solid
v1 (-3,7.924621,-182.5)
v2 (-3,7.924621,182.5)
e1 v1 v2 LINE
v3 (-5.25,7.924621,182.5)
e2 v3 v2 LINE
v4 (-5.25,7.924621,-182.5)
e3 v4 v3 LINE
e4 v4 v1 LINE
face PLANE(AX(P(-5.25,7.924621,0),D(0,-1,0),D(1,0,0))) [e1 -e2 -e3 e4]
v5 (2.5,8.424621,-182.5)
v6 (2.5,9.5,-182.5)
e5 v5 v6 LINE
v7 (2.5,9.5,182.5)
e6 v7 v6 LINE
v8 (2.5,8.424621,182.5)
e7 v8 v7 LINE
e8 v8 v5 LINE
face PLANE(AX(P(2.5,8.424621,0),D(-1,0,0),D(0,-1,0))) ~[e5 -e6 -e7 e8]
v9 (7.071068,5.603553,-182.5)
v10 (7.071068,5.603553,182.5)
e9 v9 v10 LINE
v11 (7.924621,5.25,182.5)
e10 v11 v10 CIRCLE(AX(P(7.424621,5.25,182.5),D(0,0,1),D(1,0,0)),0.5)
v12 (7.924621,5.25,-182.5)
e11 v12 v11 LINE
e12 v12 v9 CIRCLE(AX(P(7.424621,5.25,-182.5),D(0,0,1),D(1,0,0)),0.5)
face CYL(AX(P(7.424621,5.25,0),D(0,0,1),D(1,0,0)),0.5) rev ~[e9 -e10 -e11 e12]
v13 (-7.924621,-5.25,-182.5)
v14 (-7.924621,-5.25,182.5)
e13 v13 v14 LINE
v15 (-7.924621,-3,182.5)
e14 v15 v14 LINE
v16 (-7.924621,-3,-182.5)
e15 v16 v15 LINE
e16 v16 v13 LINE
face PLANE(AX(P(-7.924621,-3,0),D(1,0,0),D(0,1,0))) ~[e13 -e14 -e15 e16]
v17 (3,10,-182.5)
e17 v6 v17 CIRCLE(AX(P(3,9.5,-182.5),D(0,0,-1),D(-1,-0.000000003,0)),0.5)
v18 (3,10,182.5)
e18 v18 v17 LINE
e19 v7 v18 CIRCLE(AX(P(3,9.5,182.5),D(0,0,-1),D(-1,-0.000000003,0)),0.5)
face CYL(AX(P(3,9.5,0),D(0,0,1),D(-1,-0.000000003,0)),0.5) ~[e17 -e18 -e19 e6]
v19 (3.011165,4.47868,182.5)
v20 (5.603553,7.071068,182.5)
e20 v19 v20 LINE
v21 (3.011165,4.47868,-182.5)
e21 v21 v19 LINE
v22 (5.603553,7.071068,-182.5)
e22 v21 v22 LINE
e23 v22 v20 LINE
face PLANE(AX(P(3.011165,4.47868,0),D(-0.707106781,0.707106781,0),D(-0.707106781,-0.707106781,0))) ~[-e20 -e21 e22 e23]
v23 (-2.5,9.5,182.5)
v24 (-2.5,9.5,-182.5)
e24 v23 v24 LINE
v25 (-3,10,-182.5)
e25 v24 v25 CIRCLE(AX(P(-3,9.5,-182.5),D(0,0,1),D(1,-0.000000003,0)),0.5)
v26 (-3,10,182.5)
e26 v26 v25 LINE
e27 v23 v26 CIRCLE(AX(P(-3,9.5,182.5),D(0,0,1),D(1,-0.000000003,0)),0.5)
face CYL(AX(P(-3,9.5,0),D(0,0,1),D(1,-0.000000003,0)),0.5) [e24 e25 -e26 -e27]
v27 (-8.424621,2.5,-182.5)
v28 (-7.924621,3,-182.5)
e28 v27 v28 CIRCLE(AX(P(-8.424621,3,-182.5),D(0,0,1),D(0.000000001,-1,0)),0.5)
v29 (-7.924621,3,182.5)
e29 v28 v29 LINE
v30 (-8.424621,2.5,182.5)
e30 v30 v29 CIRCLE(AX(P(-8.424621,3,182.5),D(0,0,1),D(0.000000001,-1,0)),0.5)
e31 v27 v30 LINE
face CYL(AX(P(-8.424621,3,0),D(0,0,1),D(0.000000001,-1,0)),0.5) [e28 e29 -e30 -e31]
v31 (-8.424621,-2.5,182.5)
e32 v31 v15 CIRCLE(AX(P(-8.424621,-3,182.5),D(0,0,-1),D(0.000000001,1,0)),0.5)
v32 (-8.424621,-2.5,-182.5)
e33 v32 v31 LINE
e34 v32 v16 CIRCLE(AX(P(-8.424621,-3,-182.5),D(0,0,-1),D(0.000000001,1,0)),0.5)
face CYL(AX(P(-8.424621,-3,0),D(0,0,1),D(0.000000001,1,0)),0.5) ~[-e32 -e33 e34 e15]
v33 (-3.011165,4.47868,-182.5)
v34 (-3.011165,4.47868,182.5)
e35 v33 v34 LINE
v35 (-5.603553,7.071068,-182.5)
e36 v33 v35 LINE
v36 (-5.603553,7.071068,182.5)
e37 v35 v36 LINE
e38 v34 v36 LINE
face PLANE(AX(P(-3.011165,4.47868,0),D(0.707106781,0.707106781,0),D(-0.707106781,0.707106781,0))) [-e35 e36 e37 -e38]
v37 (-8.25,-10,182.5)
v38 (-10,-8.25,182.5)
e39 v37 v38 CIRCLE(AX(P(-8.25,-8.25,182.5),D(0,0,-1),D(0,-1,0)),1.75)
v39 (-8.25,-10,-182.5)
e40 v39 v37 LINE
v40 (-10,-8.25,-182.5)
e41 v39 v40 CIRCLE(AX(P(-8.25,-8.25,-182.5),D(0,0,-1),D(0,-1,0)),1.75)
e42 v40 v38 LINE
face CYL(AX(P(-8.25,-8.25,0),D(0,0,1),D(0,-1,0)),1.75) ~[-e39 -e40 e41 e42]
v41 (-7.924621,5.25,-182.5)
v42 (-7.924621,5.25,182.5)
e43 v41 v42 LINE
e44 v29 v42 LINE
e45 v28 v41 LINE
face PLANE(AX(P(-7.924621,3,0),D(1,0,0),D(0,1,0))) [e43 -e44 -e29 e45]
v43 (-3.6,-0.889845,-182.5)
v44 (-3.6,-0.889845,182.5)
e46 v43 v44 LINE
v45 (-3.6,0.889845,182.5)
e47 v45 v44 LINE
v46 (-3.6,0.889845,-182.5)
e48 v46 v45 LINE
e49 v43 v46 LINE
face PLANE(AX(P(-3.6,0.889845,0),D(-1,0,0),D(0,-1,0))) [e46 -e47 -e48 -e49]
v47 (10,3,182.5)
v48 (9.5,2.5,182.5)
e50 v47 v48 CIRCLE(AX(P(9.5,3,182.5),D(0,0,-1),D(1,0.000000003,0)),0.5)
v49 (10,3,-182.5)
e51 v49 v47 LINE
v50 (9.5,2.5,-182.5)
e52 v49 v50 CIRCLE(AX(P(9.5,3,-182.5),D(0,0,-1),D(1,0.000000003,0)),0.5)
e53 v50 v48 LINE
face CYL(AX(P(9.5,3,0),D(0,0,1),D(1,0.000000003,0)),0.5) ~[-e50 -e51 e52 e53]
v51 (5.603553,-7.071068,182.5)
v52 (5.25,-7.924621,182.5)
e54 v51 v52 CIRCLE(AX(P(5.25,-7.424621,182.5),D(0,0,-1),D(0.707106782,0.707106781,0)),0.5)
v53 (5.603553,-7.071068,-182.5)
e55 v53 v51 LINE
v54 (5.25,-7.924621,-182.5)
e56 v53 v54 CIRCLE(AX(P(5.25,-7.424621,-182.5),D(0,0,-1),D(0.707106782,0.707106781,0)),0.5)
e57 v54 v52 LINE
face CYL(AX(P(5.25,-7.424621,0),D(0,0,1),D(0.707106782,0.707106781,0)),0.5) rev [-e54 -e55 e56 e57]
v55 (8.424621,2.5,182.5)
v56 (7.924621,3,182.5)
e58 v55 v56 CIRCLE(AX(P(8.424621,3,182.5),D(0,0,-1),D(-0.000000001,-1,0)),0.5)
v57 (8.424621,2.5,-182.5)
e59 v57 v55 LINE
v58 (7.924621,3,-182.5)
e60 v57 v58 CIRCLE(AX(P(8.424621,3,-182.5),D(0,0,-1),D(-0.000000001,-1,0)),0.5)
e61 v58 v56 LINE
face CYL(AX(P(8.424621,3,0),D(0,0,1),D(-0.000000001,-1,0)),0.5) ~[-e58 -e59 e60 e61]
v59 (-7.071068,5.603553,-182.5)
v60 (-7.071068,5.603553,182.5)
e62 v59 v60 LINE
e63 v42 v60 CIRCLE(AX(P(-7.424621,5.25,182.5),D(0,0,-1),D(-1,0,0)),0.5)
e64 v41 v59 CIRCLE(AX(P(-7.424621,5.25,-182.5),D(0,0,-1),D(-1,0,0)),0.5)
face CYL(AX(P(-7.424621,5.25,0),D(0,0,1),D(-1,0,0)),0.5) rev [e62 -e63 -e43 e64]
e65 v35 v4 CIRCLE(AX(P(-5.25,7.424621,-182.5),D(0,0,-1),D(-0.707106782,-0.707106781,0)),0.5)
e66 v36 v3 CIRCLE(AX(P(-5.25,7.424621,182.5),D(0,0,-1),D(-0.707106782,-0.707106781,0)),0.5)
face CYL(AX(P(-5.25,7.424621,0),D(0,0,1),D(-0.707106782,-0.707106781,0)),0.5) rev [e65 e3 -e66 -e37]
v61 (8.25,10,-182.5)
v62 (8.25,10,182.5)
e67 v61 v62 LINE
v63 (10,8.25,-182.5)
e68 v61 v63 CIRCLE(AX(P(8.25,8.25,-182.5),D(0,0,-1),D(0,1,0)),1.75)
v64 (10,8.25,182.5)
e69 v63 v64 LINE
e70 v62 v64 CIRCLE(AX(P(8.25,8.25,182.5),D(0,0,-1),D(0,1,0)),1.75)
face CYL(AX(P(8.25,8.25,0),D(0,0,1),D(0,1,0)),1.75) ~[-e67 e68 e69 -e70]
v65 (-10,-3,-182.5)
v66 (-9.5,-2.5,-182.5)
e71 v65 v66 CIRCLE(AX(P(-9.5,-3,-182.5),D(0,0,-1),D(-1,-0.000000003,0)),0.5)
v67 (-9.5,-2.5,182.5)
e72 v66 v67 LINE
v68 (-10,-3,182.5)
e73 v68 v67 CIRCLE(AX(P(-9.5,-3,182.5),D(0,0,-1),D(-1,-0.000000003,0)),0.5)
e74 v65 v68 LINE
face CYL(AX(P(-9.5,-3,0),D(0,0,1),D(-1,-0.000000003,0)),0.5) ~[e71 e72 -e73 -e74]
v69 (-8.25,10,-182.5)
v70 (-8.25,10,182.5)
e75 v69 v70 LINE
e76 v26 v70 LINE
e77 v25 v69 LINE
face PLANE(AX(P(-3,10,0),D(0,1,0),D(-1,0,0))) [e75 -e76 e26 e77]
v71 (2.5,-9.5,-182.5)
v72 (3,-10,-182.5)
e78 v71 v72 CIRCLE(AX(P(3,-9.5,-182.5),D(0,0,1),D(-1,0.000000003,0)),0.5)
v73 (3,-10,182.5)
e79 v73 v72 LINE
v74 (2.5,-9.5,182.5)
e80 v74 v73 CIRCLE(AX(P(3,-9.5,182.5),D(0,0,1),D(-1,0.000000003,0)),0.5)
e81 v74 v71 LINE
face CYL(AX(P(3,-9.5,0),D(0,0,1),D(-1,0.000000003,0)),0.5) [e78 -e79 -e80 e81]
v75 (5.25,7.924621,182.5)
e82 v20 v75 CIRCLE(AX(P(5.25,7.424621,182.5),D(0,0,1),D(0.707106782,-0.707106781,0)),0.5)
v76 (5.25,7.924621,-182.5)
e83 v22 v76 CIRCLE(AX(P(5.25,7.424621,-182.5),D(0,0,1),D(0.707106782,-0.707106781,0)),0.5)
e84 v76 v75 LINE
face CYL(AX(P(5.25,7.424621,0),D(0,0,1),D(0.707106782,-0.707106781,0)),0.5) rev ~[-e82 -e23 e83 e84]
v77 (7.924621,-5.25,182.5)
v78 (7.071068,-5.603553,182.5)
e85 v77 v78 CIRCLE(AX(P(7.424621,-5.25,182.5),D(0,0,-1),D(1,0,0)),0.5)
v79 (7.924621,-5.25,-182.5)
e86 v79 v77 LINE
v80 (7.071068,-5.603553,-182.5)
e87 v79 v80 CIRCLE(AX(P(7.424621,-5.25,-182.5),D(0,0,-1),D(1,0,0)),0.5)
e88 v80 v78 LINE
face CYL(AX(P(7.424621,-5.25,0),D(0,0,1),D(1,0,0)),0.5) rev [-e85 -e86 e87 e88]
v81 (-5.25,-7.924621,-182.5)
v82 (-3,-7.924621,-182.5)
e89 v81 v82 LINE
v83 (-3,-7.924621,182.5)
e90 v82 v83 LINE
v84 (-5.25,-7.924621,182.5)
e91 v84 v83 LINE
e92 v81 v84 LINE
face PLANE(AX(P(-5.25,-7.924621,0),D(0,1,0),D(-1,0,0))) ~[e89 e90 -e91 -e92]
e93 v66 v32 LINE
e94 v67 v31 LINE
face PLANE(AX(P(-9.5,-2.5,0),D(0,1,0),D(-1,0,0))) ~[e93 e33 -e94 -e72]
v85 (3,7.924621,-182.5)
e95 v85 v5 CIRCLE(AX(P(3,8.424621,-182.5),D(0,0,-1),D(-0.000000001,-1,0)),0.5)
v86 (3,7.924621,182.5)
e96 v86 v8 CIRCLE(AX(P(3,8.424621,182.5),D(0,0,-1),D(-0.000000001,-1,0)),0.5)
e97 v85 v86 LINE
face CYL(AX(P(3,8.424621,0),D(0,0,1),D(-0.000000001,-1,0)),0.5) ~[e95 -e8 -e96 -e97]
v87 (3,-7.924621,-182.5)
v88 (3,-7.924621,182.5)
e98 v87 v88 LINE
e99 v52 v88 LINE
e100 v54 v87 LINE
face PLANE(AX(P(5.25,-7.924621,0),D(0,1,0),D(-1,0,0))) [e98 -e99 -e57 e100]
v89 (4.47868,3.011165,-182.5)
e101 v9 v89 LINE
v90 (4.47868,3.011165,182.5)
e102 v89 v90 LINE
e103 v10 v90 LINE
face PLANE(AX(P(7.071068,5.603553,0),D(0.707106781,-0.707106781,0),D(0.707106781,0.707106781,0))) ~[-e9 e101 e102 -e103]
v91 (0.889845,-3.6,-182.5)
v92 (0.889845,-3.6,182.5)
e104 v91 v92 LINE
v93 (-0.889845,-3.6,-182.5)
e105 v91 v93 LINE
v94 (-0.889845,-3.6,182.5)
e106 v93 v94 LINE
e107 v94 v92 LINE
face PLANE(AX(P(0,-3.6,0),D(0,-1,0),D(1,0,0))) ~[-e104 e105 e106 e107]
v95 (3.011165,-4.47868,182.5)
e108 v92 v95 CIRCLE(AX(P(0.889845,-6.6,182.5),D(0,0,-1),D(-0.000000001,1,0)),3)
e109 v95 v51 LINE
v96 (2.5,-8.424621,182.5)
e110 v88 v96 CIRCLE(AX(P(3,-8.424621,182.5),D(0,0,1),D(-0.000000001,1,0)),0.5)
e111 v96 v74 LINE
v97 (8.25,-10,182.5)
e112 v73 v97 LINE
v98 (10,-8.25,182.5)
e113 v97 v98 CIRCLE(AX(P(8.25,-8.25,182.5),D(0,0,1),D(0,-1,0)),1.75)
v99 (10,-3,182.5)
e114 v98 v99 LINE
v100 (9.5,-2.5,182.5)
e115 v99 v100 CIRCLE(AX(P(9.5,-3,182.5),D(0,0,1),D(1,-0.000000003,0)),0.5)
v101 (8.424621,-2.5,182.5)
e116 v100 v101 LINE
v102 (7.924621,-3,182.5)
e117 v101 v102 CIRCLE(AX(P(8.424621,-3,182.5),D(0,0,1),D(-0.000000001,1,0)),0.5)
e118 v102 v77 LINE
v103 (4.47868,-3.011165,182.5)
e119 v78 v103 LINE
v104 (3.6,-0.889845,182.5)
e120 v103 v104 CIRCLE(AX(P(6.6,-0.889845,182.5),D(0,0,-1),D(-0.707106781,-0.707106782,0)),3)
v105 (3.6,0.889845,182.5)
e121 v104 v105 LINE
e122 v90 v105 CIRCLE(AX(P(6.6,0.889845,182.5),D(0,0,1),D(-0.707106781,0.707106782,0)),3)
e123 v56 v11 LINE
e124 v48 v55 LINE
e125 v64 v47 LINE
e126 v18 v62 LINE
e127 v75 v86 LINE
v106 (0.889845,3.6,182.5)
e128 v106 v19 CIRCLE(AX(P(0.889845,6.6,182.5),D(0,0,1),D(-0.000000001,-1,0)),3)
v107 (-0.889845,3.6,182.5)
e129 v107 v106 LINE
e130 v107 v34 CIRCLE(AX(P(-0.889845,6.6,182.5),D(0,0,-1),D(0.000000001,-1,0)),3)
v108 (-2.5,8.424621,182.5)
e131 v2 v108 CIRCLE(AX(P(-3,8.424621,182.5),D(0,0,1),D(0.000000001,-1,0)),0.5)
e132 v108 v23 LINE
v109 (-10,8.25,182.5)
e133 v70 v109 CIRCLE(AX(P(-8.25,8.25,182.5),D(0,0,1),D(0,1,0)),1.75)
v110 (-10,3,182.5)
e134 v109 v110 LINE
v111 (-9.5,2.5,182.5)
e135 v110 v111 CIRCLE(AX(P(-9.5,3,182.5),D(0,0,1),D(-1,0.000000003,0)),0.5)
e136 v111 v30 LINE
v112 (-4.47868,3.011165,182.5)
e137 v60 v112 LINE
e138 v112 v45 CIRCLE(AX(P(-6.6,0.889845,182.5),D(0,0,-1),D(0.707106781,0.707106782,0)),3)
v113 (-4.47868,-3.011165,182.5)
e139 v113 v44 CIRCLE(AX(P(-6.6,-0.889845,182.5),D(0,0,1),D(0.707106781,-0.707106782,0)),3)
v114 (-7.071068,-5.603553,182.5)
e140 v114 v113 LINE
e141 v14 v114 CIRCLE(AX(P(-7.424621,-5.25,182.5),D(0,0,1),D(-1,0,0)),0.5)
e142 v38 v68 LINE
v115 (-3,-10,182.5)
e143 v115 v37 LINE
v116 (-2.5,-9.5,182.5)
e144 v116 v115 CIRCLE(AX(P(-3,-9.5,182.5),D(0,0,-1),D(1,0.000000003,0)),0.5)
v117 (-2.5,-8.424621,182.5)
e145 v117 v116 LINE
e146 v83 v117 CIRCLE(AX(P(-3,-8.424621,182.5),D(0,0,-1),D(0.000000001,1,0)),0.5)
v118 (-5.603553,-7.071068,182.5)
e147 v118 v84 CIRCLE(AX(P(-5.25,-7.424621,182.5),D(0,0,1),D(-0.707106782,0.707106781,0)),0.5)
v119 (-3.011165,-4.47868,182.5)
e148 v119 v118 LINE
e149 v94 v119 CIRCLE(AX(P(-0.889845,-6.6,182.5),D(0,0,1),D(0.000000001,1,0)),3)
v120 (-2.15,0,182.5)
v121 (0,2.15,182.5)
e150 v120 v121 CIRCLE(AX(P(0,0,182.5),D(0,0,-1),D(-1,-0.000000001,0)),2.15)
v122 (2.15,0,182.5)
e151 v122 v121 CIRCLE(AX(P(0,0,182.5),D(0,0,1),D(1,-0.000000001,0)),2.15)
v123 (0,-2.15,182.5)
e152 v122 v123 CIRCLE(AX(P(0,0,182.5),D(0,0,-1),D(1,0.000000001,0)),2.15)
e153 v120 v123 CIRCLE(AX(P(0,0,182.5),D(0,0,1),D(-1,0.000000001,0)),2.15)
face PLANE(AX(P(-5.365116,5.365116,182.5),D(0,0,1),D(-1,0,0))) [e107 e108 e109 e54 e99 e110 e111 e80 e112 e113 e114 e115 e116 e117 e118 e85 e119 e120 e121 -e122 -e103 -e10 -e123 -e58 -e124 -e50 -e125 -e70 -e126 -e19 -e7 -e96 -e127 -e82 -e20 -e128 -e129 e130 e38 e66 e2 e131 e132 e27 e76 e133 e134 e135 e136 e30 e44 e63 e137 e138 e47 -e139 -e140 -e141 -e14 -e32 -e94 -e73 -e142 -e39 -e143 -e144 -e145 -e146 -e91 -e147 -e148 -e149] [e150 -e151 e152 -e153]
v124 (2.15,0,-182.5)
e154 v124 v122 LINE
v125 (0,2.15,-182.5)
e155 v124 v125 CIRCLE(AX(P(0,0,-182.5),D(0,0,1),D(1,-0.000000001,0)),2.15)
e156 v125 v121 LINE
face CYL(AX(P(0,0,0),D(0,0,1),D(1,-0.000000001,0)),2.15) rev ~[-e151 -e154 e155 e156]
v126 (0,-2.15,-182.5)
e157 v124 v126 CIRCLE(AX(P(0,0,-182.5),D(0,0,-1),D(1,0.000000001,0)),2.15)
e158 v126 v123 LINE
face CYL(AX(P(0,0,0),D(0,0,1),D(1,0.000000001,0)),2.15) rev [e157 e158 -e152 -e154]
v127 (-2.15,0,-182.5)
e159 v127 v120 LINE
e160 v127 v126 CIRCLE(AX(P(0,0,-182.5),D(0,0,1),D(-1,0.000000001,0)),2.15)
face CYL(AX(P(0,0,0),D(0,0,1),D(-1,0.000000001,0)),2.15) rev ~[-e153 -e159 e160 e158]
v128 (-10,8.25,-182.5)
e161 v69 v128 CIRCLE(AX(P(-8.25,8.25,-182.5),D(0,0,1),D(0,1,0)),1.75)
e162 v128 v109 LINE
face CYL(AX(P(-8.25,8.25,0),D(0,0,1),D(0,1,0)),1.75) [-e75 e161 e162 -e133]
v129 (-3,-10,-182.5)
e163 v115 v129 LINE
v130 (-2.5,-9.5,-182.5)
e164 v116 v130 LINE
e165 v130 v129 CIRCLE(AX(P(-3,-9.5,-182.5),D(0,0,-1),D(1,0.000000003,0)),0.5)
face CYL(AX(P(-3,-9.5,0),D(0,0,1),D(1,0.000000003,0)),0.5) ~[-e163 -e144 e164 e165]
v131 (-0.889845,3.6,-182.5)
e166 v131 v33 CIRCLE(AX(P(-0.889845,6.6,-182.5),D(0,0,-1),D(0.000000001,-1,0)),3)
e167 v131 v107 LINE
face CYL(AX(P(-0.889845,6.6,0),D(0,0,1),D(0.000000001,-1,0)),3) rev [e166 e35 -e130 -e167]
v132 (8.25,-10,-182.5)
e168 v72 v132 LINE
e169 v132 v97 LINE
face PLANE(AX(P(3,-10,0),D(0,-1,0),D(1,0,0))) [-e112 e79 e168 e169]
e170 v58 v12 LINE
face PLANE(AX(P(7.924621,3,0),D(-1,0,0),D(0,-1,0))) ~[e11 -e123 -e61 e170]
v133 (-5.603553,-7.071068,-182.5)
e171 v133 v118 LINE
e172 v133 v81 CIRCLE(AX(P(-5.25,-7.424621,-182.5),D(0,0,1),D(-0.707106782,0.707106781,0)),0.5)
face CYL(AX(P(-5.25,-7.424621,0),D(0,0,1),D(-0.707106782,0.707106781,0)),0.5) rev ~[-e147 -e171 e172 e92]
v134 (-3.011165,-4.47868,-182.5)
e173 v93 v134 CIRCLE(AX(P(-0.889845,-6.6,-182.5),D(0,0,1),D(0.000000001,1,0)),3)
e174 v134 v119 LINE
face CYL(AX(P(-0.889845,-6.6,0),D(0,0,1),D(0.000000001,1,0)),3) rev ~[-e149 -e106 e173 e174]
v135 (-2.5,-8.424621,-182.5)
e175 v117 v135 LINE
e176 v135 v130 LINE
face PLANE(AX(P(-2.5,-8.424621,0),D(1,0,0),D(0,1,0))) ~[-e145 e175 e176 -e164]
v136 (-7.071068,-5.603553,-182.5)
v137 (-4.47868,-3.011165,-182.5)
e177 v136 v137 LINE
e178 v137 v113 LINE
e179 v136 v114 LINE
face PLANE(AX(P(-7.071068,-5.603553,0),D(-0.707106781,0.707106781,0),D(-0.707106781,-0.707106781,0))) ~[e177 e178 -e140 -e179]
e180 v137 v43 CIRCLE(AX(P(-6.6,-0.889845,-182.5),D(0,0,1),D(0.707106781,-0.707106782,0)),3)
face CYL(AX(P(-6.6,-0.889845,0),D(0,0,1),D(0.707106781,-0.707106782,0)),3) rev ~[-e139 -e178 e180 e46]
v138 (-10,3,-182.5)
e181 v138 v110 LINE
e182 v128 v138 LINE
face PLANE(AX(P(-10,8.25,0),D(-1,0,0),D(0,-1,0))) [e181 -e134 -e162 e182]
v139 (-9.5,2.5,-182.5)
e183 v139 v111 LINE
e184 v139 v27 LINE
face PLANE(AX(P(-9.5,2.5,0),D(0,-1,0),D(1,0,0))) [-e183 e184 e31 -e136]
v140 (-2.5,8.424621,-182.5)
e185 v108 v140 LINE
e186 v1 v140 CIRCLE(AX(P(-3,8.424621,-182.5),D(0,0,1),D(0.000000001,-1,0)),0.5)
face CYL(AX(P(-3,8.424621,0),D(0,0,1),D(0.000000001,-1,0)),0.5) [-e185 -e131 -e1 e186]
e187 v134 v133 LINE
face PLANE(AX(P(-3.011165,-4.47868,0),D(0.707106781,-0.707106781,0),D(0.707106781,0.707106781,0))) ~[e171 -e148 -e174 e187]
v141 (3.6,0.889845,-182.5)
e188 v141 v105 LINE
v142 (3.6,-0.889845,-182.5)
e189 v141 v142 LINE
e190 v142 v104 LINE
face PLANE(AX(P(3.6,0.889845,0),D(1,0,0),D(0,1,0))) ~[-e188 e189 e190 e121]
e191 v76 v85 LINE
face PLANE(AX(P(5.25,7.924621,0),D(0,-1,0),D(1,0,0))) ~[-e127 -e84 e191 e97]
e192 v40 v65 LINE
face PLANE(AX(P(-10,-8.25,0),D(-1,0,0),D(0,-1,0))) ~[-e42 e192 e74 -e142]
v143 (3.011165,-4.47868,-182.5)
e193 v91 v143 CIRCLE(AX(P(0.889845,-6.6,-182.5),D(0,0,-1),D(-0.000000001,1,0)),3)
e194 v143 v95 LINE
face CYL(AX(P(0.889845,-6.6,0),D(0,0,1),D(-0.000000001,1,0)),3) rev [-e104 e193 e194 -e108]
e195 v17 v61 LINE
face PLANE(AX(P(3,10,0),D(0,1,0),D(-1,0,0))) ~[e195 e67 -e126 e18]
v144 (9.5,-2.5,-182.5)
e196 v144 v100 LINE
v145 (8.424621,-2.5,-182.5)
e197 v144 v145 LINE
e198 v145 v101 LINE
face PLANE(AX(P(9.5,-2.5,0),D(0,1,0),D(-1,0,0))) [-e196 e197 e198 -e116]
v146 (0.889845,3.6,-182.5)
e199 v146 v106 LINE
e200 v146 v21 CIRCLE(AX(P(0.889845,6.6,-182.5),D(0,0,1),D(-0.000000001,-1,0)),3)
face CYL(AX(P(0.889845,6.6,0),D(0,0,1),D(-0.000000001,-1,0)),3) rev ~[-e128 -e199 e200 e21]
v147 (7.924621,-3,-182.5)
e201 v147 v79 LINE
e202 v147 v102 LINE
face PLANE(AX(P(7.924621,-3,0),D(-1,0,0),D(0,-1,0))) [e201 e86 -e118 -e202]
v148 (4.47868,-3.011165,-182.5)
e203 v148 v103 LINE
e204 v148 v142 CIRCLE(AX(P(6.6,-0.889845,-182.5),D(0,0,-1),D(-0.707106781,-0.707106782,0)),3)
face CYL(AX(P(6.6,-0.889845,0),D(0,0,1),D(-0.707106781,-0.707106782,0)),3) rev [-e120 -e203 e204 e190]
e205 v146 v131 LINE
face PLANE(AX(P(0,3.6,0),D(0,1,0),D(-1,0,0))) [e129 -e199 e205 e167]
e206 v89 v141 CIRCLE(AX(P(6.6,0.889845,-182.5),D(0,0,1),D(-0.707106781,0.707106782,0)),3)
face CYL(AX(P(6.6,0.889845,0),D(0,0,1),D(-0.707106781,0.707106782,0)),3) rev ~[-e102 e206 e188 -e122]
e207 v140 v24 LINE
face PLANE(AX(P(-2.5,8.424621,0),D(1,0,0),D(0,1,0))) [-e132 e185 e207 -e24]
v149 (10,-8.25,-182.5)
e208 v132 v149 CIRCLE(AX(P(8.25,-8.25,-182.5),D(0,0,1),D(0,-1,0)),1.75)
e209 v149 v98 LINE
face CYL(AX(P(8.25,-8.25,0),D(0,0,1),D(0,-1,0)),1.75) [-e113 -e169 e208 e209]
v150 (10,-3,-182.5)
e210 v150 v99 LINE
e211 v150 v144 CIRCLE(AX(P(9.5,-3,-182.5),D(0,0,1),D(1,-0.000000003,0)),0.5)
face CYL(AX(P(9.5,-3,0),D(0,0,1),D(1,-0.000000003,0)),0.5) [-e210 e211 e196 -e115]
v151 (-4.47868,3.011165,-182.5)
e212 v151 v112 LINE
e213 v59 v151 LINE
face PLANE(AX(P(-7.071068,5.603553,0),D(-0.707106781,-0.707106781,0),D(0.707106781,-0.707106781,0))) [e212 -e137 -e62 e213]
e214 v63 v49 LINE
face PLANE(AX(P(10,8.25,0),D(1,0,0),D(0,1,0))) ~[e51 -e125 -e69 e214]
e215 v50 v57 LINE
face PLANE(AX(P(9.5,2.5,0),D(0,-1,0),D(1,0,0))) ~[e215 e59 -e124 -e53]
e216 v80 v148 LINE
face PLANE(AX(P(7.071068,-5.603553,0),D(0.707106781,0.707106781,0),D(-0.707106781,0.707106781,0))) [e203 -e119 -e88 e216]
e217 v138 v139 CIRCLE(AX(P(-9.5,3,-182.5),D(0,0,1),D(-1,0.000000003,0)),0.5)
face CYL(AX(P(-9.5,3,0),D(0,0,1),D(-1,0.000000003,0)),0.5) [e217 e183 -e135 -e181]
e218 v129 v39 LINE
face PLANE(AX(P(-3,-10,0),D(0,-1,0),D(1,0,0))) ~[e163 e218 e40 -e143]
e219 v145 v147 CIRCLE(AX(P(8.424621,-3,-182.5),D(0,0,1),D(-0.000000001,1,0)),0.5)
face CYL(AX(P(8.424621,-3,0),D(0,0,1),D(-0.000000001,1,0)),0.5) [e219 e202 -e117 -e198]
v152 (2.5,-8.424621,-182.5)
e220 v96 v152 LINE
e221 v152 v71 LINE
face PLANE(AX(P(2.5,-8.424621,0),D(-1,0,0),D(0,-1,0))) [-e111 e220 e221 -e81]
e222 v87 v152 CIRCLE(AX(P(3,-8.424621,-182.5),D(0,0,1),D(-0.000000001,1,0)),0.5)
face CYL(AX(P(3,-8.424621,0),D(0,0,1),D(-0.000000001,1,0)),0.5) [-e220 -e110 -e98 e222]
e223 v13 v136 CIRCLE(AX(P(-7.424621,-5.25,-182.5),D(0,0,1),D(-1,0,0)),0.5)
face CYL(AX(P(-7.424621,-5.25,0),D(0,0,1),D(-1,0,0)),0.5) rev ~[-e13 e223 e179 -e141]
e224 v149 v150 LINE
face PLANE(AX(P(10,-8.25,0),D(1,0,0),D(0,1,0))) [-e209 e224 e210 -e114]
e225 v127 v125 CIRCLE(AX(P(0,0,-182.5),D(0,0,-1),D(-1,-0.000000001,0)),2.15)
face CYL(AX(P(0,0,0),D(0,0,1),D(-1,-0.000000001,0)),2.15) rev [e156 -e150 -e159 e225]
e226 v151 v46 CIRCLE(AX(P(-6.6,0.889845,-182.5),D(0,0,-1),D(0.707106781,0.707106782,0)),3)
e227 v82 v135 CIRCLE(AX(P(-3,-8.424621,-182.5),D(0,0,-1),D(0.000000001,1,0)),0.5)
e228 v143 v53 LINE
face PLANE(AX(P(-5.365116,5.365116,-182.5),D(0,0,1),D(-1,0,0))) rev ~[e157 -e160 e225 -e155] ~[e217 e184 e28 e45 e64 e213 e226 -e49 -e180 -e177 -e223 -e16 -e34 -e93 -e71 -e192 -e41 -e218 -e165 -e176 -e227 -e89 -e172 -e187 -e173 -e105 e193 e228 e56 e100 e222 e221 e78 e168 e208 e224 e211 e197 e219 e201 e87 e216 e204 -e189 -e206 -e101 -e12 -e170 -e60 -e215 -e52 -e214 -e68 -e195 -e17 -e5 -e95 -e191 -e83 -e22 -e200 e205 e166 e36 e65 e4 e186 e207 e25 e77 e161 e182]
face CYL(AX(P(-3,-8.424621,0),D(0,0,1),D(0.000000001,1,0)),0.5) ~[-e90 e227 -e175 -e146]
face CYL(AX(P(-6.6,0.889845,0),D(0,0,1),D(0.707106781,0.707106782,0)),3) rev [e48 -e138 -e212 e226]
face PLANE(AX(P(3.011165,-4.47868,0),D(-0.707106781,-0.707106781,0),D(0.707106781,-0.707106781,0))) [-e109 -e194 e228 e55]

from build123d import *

# Parameters (mm, degrees)
BOSS_EXTRUDE1_DEPTH = 182.5


with BuildPart() as part:
    # Sketch4 → Boss-Extrude1 (new body, symmetric)
    with BuildSketch(Plane.XY):
        with BuildLine():
            Line((3, -10), (8.25, -10))
            ThreePointArc((8.25, -10), (9.487436867, -9.487436867), (10, -8.25))
            Line((10, -8.25), (10, -3))
            ThreePointArc((10, -3), (9.853553391, -2.646446609), (9.5, -2.5))
            Line((9.5, -2.5), (8.424621202, -2.5))
            ThreePointArc((8.424621202, -2.5), (8.071067812, -2.646446609), (7.924621202, -3))
            Line((7.924621202, -3), (7.924621202, -5.25))
            ThreePointArc((7.924621202, -5.25), (7.615962919, -5.711939766), (7.071067812, -5.603553391))
            Line((7.071067812, -5.603553391), (4.478679656, -3.011165235))
            ThreePointArc((4.478679656, -3.011165235), (3.828361402, -2.037895189), (3.6, -0.889844892))
            Line((3.6, -0.889844892), (3.6, 0))
            Line((3.6, 0), (2.15, 0))
            ThreePointArc((2.15, 0), (1.52027958, -1.52027958), (0, -2.15))
            Line((0, -2.15), (0, -3.6))
            Line((0, -3.6), (0.889844892, -3.6))
            ThreePointArc((0.889844892, -3.6), (2.037895189, -3.828361402), (3.011165235, -4.478679656))
            Line((3.011165235, -4.478679656), (5.603553391, -7.071067812))
            ThreePointArc((5.603553391, -7.071067812), (5.711939766, -7.615962919), (5.25, -7.924621202))
            Line((5.25, -7.924621202), (3, -7.924621202))
            ThreePointArc((3, -7.924621202), (2.646446609, -8.071067812), (2.5, -8.424621202))
            Line((2.5, -8.424621202), (2.5, -9.5))
            ThreePointArc((2.5, -9.5), (2.646446609, -9.853553391), (3, -10))
        make_face()
    extrude(amount=BOSS_EXTRUDE1_DEPTH, both=True)

    # Mirror1: part across plane


with BuildPart() as part_1:
    add(part.part)
    add(part.part.mirror(Plane(origin=(0, 0, 0), x_dir=(0, 0, 1), z_dir=(1, 0, 0))))

    # Mirror2: part across plane


with BuildPart() as part_2:
    add(part_1.part)
    add(part_1.part.mirror(Plane.ZX))


solid = part_2.part
